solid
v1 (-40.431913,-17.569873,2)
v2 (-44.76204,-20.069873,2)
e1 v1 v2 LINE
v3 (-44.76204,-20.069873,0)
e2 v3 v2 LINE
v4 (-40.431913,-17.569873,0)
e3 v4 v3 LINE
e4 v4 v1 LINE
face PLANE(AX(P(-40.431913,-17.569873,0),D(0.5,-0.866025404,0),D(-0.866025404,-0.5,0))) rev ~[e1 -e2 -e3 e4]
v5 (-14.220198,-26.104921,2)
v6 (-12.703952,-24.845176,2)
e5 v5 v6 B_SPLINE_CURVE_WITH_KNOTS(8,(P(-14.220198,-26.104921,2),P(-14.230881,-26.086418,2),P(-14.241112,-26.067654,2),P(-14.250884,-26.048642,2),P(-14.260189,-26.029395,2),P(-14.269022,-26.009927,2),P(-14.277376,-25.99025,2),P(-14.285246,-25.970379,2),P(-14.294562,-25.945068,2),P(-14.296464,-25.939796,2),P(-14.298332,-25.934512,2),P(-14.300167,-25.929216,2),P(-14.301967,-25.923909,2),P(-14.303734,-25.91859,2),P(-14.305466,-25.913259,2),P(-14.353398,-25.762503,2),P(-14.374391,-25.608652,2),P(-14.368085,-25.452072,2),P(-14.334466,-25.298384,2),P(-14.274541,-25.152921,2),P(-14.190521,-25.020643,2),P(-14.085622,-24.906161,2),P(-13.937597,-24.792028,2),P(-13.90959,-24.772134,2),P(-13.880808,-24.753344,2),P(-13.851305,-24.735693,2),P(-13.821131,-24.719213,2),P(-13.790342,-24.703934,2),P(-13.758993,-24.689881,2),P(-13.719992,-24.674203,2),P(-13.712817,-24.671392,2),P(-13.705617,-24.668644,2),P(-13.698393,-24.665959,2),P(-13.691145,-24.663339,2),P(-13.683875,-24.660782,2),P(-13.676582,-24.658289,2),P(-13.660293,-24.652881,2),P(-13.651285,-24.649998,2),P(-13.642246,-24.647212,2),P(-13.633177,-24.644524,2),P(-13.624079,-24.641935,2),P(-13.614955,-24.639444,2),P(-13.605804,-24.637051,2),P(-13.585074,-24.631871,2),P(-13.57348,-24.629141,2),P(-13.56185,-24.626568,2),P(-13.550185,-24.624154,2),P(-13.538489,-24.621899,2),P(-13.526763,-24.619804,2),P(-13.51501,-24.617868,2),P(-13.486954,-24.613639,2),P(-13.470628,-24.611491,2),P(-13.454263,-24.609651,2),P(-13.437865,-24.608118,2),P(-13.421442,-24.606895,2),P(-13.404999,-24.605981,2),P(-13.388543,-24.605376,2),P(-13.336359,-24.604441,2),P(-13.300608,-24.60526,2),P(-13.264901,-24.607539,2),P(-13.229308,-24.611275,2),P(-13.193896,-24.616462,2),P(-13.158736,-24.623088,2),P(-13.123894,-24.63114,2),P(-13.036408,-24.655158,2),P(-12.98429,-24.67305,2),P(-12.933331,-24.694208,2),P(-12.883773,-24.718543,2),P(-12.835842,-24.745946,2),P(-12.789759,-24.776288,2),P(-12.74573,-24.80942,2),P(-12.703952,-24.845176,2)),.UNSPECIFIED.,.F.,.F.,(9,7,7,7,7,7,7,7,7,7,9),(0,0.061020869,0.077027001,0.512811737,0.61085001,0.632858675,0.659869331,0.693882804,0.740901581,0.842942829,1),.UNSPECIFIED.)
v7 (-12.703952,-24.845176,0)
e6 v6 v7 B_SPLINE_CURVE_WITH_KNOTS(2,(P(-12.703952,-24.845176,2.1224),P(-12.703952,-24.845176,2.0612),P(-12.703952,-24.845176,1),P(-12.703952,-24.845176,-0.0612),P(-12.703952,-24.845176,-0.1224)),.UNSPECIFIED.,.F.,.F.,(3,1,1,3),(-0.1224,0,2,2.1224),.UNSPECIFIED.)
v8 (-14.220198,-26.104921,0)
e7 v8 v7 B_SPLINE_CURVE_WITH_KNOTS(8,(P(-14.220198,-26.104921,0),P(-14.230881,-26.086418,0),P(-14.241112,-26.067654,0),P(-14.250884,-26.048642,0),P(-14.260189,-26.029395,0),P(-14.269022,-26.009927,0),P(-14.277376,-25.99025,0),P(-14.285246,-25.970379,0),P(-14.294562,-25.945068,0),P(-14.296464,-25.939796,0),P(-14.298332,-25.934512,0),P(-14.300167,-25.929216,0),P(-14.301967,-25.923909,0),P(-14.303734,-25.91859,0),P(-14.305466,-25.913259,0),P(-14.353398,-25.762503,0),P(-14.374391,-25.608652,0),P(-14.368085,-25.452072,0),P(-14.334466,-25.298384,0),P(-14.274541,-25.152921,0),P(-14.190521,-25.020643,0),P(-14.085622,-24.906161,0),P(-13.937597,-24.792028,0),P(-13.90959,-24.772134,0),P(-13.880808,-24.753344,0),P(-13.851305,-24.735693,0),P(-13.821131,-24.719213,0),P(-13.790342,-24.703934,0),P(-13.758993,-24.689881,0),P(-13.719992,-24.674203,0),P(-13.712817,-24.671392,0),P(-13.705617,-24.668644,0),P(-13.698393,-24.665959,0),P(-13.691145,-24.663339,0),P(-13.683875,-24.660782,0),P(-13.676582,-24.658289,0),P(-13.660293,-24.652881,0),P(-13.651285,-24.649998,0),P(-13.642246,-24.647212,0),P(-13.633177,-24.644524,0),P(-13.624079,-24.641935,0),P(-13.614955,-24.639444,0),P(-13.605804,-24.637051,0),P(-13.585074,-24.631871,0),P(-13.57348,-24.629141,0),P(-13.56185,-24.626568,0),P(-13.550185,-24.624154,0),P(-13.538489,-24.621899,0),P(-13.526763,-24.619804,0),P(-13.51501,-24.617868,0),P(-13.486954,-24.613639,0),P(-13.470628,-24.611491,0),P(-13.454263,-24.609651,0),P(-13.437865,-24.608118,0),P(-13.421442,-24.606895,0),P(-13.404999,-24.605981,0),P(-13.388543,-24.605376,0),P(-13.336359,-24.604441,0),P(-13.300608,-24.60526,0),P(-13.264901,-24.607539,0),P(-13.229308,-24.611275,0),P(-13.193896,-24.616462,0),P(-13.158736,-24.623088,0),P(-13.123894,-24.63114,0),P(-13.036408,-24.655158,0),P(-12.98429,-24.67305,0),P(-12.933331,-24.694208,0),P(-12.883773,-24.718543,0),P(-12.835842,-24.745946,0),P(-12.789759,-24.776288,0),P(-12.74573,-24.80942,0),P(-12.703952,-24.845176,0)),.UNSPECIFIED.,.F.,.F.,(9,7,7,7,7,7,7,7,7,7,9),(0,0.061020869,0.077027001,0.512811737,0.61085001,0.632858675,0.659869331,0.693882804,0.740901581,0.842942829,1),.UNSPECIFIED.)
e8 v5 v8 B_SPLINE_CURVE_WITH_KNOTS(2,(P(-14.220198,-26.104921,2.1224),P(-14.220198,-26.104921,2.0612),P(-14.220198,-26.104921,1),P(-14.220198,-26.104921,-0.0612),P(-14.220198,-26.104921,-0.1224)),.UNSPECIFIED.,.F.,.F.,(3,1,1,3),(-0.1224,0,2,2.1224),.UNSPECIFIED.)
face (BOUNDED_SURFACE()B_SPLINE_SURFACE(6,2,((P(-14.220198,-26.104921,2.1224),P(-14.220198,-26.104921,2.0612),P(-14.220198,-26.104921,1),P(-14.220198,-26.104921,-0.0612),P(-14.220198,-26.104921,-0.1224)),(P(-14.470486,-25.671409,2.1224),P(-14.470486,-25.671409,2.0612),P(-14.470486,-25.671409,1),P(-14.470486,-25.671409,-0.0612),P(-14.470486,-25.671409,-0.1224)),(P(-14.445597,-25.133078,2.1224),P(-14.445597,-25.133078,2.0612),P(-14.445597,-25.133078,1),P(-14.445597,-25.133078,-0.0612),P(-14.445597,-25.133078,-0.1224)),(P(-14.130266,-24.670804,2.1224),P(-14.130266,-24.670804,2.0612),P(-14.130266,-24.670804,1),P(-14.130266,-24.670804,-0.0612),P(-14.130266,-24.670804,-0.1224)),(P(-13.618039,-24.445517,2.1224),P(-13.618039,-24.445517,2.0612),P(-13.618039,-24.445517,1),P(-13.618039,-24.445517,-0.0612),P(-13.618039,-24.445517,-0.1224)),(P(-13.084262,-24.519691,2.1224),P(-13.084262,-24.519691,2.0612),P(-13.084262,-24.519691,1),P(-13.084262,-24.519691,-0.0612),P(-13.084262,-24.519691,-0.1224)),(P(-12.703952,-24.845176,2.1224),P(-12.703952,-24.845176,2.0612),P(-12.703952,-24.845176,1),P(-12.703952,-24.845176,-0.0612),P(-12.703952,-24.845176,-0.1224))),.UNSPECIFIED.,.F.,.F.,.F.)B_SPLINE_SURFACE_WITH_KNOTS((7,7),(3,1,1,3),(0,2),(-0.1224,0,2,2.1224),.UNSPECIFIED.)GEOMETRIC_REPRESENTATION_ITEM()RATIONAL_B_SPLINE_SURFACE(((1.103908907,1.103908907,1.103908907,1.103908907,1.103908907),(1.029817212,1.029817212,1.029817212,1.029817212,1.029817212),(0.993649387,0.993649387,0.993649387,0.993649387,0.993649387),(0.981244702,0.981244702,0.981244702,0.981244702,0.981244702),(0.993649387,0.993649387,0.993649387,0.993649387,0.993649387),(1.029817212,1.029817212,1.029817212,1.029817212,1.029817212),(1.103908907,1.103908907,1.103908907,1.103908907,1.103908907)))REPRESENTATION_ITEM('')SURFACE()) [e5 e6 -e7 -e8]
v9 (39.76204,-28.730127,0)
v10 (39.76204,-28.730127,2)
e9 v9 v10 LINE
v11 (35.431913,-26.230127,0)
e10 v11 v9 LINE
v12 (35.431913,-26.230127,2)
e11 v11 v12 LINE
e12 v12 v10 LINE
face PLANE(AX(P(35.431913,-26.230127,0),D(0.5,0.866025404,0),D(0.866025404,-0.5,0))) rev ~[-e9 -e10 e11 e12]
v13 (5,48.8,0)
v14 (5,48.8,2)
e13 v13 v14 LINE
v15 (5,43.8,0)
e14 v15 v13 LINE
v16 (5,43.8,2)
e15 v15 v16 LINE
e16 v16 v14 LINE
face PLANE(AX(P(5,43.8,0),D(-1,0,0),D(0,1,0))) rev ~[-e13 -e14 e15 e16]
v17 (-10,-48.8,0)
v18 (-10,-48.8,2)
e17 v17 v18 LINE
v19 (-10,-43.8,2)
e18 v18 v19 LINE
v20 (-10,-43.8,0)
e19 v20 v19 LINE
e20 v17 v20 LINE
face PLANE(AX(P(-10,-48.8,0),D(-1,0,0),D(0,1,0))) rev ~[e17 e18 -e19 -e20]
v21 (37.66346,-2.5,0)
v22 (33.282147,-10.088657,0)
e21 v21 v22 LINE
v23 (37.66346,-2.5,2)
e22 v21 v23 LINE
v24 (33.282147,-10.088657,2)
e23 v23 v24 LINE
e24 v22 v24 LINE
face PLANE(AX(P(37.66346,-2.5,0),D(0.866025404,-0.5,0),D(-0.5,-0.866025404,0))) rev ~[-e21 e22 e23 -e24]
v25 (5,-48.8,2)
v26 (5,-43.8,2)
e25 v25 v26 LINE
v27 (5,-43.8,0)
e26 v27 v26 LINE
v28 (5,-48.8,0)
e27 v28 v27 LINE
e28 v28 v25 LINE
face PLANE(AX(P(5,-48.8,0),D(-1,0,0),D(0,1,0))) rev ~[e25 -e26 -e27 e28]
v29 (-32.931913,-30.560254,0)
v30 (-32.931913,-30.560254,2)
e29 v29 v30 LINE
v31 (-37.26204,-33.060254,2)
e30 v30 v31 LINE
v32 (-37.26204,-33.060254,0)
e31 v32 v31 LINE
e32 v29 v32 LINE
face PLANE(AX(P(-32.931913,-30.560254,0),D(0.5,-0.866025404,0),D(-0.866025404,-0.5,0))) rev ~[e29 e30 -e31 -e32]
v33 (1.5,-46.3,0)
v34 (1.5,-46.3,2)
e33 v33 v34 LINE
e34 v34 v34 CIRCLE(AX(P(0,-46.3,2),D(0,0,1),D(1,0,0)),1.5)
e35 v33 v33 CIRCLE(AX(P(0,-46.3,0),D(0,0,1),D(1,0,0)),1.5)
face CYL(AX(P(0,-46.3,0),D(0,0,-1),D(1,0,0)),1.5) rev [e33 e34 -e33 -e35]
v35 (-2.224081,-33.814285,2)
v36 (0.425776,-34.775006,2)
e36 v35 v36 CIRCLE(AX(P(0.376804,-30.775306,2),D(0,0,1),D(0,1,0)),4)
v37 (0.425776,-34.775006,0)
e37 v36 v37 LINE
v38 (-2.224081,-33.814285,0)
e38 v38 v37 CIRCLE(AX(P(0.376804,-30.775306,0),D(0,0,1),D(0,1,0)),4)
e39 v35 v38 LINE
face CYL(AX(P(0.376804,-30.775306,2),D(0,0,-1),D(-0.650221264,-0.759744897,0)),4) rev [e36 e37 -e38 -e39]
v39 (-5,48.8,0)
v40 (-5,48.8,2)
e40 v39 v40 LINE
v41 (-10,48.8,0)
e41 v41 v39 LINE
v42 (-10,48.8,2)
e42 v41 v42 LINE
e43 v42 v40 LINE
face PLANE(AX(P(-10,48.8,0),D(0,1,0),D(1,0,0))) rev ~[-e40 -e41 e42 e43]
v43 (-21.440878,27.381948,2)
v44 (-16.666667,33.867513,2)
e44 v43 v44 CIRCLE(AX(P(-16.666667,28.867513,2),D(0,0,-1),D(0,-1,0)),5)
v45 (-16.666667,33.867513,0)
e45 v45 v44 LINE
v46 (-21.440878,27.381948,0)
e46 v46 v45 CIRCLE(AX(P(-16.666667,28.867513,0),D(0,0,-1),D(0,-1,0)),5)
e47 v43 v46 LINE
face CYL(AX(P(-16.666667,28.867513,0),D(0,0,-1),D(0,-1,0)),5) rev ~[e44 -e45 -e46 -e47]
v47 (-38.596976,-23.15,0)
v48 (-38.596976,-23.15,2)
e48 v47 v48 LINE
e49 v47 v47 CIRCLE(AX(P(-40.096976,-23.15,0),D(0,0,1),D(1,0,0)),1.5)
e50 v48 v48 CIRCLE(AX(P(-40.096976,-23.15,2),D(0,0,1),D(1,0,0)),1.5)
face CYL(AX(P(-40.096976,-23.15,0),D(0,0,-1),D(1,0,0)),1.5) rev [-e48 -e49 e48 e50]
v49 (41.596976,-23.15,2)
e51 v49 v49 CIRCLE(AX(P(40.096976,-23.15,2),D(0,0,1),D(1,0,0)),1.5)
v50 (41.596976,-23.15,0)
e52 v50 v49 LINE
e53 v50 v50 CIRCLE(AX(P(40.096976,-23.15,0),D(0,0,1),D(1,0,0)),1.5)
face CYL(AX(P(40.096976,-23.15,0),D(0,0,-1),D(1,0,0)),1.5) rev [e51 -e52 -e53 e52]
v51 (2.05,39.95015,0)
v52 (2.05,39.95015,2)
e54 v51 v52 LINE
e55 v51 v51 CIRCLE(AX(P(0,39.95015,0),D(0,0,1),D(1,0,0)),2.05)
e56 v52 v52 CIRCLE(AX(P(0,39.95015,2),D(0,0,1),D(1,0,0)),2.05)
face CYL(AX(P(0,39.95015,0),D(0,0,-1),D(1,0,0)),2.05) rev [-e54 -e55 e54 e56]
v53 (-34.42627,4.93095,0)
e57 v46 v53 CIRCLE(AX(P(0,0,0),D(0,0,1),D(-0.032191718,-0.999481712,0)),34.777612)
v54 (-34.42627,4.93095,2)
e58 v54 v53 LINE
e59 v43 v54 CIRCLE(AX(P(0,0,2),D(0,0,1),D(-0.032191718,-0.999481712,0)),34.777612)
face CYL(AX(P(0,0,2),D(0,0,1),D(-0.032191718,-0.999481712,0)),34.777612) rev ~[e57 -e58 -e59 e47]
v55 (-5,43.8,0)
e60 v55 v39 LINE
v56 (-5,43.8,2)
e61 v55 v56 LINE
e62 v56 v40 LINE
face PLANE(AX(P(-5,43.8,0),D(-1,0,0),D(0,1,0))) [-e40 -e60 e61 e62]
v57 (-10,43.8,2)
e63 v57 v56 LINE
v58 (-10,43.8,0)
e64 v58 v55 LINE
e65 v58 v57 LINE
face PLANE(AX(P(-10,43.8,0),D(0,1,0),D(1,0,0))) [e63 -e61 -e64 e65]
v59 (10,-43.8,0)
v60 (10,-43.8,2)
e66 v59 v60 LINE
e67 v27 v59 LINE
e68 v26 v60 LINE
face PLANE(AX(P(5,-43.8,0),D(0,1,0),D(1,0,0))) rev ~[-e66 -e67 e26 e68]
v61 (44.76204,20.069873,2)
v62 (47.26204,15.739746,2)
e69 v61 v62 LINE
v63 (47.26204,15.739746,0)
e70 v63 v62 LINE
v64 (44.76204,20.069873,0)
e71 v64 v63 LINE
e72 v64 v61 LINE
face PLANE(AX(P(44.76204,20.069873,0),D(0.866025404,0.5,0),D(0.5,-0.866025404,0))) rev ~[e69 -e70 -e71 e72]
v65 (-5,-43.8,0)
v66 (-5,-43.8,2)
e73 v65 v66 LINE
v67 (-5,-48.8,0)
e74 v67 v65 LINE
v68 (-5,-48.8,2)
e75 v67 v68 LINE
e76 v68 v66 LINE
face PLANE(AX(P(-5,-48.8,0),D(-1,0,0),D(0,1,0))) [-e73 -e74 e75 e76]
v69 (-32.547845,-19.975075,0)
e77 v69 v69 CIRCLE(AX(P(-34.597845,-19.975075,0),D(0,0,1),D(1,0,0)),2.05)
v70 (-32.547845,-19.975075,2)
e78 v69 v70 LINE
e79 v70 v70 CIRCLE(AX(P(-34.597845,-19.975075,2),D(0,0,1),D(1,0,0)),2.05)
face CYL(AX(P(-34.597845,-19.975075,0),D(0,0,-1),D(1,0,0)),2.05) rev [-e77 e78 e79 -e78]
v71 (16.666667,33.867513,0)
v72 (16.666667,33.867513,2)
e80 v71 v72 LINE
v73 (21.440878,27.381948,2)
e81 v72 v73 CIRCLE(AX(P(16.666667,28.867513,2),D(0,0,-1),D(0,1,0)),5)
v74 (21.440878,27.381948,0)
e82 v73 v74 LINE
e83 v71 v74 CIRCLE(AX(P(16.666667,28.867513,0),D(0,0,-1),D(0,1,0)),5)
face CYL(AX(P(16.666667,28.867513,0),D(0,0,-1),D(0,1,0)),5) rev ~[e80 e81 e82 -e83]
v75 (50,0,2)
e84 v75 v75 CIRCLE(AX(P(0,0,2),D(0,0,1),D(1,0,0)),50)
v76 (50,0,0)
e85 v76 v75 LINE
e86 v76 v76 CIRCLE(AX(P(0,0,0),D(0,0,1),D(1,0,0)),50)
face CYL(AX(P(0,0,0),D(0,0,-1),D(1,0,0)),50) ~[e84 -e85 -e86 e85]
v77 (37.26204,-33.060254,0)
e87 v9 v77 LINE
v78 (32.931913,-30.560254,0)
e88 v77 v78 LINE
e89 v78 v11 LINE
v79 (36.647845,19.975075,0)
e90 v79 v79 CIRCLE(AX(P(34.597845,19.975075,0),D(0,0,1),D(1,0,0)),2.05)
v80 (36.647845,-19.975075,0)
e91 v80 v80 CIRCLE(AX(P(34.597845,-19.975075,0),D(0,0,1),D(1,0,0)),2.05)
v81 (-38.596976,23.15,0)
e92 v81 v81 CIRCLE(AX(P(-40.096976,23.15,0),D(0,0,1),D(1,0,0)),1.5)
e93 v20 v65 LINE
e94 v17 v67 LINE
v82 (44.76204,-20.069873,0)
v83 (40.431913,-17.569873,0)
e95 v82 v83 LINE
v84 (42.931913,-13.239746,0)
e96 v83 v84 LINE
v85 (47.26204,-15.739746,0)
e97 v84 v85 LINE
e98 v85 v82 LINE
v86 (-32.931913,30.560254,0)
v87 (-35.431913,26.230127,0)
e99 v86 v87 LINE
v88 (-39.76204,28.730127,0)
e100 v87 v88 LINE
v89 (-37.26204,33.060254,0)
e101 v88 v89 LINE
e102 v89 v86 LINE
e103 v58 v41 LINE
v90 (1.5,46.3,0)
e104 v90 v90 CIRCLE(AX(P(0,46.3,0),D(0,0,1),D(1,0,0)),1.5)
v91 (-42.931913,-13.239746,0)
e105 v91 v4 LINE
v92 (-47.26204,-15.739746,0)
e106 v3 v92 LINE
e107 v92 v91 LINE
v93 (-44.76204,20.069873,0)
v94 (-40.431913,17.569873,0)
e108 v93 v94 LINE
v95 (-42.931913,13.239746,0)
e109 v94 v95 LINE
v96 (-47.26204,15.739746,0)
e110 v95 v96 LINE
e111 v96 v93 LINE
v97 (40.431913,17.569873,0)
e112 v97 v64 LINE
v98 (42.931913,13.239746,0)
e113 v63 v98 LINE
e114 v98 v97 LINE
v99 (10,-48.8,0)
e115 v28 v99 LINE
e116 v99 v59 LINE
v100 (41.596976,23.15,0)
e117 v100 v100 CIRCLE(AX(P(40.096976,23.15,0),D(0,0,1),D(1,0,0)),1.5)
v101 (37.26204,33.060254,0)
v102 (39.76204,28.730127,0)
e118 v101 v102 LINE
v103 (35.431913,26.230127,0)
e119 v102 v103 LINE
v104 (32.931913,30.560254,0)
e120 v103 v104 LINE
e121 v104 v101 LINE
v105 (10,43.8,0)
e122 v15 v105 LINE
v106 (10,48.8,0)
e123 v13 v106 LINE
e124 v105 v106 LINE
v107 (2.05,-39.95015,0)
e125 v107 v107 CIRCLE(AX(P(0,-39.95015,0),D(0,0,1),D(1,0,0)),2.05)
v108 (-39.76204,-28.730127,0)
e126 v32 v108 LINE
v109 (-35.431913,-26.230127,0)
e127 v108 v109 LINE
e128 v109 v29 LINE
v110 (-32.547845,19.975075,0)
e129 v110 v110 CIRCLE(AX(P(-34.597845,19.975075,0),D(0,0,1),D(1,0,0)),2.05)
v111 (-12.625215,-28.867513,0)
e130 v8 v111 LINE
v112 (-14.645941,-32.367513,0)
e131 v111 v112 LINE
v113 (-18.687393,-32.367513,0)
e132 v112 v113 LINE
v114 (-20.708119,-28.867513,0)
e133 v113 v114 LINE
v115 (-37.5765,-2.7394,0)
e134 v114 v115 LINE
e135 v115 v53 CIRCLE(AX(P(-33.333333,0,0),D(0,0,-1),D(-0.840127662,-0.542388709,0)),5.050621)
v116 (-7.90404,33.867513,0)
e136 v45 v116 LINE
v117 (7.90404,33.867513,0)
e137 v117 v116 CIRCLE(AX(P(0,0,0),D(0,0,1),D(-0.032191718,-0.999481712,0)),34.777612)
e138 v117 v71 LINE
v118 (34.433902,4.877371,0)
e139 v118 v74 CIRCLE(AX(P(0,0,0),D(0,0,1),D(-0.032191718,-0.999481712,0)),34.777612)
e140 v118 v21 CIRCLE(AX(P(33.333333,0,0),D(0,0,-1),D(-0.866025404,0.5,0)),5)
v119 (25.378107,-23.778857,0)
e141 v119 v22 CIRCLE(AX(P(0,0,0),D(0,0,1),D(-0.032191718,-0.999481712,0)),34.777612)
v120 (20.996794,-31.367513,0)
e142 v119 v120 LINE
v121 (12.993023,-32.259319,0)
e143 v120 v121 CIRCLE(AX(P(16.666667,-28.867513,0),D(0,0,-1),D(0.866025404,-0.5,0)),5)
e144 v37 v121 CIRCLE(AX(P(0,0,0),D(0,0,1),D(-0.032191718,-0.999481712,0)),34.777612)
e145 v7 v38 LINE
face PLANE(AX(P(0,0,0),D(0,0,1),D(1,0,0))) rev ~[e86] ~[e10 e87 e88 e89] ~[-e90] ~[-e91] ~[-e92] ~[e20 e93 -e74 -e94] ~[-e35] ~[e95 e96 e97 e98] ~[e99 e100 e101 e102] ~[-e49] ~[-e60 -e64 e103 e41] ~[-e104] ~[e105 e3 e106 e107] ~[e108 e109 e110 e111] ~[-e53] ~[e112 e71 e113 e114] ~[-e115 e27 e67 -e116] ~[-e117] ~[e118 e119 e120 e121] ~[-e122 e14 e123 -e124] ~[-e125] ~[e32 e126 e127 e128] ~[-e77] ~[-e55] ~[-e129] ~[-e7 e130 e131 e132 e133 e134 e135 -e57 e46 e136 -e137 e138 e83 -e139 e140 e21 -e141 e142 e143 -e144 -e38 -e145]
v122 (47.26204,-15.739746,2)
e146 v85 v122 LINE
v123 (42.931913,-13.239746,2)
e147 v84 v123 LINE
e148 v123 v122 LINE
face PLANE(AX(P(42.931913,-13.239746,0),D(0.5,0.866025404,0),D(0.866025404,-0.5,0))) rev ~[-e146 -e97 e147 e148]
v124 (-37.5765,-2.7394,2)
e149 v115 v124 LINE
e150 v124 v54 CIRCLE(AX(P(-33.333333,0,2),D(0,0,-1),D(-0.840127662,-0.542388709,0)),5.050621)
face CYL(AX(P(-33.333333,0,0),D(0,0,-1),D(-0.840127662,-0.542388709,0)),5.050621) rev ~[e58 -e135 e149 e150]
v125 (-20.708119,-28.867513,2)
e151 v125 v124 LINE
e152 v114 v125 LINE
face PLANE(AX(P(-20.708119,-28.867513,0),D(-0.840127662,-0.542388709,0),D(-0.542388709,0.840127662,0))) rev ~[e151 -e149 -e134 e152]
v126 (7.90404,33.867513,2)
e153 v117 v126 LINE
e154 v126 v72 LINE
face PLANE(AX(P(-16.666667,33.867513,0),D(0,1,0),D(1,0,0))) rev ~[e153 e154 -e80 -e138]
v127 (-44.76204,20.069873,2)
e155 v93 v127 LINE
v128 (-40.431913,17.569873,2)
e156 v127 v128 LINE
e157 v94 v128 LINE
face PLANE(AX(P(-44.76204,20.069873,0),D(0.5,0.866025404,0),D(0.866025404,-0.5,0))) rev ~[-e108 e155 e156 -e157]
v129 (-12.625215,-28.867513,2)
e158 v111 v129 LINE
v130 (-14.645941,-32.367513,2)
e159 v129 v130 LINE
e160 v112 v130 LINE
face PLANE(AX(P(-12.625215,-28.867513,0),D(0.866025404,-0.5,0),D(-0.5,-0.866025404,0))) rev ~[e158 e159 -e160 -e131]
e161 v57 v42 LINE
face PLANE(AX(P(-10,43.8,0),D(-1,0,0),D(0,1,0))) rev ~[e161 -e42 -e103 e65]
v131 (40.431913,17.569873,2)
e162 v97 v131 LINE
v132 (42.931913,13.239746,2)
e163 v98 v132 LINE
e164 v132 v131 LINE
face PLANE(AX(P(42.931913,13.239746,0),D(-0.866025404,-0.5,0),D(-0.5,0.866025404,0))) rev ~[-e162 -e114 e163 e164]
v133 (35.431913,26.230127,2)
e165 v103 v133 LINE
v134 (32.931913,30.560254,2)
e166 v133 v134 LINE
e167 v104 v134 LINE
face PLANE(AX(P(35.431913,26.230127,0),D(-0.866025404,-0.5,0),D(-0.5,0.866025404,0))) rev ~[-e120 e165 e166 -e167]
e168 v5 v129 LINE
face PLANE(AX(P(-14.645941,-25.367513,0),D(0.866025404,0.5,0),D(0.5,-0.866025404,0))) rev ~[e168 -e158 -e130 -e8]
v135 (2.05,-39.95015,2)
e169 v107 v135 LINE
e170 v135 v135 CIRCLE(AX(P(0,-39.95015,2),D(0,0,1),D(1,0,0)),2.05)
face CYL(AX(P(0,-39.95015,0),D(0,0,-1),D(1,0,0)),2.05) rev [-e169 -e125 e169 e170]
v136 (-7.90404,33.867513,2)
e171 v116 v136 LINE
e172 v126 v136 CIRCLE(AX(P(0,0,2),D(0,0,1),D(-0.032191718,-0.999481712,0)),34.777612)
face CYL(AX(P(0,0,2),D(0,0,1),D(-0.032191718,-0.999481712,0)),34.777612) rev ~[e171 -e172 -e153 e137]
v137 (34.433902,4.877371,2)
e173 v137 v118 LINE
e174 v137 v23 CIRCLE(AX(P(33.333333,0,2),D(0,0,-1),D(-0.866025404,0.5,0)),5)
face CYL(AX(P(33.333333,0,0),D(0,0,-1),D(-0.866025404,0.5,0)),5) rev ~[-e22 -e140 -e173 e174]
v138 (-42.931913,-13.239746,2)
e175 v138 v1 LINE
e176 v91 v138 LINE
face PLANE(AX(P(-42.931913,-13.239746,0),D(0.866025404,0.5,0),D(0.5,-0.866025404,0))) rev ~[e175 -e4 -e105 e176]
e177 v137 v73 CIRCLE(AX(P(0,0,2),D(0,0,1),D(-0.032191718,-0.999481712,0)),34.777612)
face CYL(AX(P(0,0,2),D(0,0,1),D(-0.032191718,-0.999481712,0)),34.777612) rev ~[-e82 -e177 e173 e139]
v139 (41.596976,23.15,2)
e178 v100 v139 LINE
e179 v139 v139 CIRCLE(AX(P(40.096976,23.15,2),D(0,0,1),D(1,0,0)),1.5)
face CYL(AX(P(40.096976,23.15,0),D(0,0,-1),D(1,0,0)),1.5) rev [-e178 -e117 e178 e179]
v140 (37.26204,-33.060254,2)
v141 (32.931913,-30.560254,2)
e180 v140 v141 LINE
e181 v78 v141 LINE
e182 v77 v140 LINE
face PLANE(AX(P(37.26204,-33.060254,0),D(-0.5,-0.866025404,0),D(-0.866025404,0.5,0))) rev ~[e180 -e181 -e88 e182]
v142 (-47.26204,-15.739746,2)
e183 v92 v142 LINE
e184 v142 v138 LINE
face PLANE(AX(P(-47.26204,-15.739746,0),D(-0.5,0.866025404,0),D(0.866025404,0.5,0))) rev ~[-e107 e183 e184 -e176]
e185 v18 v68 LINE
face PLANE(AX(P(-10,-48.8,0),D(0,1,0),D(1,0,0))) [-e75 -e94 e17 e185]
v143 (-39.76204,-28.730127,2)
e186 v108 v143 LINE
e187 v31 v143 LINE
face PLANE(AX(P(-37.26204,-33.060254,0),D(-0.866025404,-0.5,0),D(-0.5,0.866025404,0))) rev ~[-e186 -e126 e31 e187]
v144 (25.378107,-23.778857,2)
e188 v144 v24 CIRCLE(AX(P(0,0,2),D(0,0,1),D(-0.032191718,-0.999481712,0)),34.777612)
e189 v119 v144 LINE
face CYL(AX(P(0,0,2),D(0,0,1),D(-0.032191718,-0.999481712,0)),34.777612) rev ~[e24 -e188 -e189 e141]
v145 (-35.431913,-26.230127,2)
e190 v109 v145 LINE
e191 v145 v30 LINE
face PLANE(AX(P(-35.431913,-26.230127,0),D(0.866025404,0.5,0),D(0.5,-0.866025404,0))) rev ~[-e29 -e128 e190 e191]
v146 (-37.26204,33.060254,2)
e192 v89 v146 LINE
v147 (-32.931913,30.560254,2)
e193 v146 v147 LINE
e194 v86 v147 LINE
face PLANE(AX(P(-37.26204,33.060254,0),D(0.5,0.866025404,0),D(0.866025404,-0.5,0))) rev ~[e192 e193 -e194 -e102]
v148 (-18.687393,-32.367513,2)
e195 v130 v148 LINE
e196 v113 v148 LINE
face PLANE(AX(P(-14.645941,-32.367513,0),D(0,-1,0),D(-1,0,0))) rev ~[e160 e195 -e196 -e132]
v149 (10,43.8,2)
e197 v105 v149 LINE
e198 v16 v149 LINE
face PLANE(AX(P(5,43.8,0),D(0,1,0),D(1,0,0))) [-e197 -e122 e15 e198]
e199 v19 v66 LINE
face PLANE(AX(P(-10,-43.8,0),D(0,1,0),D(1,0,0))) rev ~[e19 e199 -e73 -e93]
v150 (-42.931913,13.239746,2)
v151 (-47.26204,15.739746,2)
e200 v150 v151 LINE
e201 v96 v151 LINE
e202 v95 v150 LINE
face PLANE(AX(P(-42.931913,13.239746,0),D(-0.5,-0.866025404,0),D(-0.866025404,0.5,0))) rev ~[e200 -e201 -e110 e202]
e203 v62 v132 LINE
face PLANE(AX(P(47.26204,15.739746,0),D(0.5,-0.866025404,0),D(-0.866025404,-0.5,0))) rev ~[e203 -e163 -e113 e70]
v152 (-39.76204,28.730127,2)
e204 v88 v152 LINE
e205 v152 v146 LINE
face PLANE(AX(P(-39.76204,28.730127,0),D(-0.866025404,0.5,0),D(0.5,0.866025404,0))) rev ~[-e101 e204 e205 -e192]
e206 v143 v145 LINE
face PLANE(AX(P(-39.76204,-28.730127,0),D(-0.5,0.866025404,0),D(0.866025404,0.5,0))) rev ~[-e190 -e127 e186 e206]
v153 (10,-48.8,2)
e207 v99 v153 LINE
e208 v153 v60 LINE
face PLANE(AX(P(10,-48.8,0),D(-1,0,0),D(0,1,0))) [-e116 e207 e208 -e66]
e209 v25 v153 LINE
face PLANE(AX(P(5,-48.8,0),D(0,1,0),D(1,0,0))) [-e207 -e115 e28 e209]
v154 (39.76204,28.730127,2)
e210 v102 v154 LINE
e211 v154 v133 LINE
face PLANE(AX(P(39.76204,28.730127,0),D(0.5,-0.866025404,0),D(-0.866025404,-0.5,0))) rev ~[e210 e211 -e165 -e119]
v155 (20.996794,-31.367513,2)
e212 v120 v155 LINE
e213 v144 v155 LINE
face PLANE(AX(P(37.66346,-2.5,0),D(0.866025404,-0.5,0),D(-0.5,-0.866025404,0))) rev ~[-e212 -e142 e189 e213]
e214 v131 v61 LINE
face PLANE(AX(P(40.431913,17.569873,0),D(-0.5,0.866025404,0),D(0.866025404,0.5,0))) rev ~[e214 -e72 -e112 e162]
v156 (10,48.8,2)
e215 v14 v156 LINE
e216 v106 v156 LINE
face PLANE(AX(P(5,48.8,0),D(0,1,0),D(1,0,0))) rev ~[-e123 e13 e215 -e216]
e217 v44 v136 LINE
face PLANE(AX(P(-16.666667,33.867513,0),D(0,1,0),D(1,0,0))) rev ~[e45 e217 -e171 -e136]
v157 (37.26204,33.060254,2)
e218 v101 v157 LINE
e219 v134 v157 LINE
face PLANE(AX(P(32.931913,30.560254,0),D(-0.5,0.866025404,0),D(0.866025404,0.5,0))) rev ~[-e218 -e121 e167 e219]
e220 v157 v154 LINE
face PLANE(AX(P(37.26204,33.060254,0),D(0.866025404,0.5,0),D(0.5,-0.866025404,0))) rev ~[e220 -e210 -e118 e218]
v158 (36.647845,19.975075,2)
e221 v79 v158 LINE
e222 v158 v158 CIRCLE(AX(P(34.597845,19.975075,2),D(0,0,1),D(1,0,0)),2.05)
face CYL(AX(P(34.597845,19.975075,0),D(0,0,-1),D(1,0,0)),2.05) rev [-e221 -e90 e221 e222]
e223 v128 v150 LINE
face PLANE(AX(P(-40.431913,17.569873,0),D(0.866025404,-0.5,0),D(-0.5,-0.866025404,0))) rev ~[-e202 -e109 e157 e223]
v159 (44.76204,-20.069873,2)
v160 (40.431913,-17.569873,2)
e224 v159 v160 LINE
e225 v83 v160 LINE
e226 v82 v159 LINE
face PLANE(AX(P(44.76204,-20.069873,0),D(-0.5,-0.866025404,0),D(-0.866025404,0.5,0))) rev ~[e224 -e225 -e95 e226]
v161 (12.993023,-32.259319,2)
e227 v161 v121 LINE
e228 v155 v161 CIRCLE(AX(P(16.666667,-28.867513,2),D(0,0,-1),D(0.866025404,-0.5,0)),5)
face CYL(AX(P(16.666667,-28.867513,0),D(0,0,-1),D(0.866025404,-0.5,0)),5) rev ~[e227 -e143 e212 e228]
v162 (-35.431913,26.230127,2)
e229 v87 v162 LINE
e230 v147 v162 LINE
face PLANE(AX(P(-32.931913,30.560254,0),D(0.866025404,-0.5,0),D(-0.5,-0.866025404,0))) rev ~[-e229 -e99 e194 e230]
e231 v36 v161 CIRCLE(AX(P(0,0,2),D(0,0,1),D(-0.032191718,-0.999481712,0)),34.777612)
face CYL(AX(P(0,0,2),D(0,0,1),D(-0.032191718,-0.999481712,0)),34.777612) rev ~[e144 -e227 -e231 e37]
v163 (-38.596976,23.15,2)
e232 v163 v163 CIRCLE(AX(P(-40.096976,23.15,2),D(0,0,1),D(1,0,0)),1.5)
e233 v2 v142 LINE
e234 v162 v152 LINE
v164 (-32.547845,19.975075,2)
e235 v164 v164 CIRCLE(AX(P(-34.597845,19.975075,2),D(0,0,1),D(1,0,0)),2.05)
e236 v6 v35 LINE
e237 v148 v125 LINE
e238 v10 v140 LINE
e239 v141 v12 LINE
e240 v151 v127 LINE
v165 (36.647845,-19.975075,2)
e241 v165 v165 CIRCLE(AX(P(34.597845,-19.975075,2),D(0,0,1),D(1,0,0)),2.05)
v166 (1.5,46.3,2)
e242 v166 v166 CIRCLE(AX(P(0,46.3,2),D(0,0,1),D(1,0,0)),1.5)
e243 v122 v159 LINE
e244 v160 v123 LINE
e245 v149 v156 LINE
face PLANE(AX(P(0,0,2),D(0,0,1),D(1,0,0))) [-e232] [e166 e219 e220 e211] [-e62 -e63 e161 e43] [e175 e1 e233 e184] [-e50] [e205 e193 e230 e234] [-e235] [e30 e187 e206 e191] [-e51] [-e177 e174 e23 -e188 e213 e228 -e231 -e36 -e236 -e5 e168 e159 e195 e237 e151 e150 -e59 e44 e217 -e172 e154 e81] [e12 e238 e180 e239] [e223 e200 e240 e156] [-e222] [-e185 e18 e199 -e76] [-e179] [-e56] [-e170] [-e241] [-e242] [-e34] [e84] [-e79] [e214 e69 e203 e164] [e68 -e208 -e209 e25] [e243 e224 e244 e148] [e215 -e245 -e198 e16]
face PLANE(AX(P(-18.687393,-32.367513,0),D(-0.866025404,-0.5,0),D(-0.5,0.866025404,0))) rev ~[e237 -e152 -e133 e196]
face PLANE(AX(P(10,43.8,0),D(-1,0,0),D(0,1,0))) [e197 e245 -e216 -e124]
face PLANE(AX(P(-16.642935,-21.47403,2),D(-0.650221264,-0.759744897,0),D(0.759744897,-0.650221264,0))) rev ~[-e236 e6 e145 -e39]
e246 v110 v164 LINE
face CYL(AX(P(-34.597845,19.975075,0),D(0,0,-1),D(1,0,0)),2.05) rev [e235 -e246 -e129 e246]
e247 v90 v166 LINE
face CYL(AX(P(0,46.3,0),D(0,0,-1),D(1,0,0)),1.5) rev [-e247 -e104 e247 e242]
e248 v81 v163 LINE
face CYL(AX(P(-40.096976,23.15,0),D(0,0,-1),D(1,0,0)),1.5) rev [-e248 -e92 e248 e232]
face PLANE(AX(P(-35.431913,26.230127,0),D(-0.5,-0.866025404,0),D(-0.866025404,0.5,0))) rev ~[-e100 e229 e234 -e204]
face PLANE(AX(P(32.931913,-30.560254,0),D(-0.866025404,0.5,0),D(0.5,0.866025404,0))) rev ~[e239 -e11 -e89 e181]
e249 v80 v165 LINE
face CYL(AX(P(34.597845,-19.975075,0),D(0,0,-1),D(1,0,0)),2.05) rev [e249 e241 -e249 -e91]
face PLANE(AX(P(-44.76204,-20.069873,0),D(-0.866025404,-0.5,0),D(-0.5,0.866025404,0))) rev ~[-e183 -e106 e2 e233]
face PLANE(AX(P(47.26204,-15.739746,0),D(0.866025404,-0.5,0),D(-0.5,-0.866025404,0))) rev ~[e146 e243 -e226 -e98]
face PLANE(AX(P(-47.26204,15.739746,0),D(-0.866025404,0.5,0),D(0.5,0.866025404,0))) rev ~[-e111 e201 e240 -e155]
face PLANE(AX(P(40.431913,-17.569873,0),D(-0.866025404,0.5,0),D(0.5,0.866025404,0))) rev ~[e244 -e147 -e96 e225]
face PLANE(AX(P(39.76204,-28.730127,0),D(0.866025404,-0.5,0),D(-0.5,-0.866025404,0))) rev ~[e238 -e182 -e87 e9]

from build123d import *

# Parameters (mm, degrees)
ESQUISSE1_R        = 50
ESQUISSE1_W        = 5
ESQUISSE1_H        = 5
ESQUISSE1_R_2      = 1.5
ESQUISSE1_R_3      = 2.05
BOSS_EXTRU_1_DEPTH = 2
SKETCH3_W          = 1
SKETCH3_H          = 8
CUT_EXTRUDE2_DEPTH = 10
CUT_EXTRUDE5_DEPTH = 10
FILLET1_R          = 1
FILLET2_R          = 4


with BuildPart() as part:
    # Esquisse1 → Boss.-Extru.1 (new body)
    with BuildSketch(Plane.XY):
        Circle(ESQUISSE1_R)
        Polygon((-39.762039705, -28.730127019), (-35.431912686, -26.230127019), (-32.931912686, -30.560254038), (-37.262039705, -33.060254038), align=None, mode=Mode.SUBTRACT)
        with Locations((-7.5, -46.3)):
            Rectangle(ESQUISSE1_W, ESQUISSE1_H, mode=Mode.SUBTRACT)
        with Locations((-40.096976195, -23.15)):
            Circle(ESQUISSE1_R_2, mode=Mode.SUBTRACT)
        Polygon((-42.931912686, -13.239745962), (-40.431912686, -17.569872981), (-44.762039705, -20.069872981), (-47.262039705, -15.739745962), align=None, mode=Mode.SUBTRACT)
        with Locations((-34.597845014, -19.975075133)):
            Circle(ESQUISSE1_R_3, mode=Mode.SUBTRACT)
        with BuildLine():
            ThreePointArc((-37.576499896, -2.739399901), (-35.858643923, 4.373966246), (-28.839360147, 2.304990085))
            Line((-28.839360147, 2.304990085), (-14.645940725, -25.367513459))
            Line((-14.645940725, -25.367513459), (-12.625214782, -28.867513459))
            Line((-12.625214782, -28.867513459), (-14.645940725, -32.367513459))
            Line((-14.645940725, -32.367513459), (-18.687392609, -32.367513459))
            Line((-18.687392609, -32.367513459), (-20.708118551, -28.867513459))
            Line((-20.708118551, -28.867513459), (-37.576499896, -2.739399901))
        make_face(mode=Mode.SUBTRACT)
        with Locations((-16.671397033, -9.625235564)):
            Circle(ESQUISSE1_R_3, mode=Mode.SUBTRACT)
        with Locations((0, -46.3)):
            Circle(ESQUISSE1_R_2, mode=Mode.SUBTRACT)
        with Locations((7.5, -46.3)):
            Rectangle(ESQUISSE1_W, ESQUISSE1_H, mode=Mode.SUBTRACT)
        with Locations((0, -39.950150265)):
            Circle(ESQUISSE1_R_3, mode=Mode.SUBTRACT)
        Polygon((32.931912686, -30.560254038), (35.431912686, -26.230127019), (39.762039705, -28.730127019), (37.262039705, -33.060254038), align=None, mode=Mode.SUBTRACT)
        with Locations((0, -19.232757636)):
            Circle(ESQUISSE1_R_3, mode=Mode.SUBTRACT)
        with Locations((16.666666667, -9.622504487)):
            Circle(ESQUISSE1_R_3, mode=Mode.SUBTRACT)
        with Locations((34.597845014, -19.975075132)):
            Circle(ESQUISSE1_R_3, mode=Mode.SUBTRACT)
        with BuildLine():
            ThreePointArc((20.996793686, -31.367513459), (14.166666667, -33.197640478), (12.336539648, -26.367513459))
            Line((12.336539648, -26.367513459), (29.003206314, 2.5))
            ThreePointArc((29.003206314, 2.5), (35.833333333, 4.330127019), (37.663460352, -2.5))
            Line((37.663460352, -2.5), (20.996793686, -31.367513459))
        make_face(mode=Mode.SUBTRACT)
        with Locations((40.096976195, -23.15)):
            Circle(ESQUISSE1_R_2, mode=Mode.SUBTRACT)
        Polygon((44.762039705, -20.069872981), (40.431912686, -17.569872981), (42.931912686, -13.239745962), (47.262039705, -15.739745962), align=None, mode=Mode.SUBTRACT)
        Polygon((-44.762039705, 20.069872981), (-40.431912686, 17.569872981), (-42.931912686, 13.239745962), (-47.262039705, 15.739745962), align=None, mode=Mode.SUBTRACT)
        with Locations((-40.096976195, 23.15)):
            Circle(ESQUISSE1_R_2, mode=Mode.SUBTRACT)
        with Locations((-34.597845014, 19.975075133)):
            Circle(ESQUISSE1_R_3, mode=Mode.SUBTRACT)
        with Locations((-16.671397032, 9.625235564)):
            Circle(ESQUISSE1_R_3, mode=Mode.SUBTRACT)
        Polygon((-32.931912686, 30.560254038), (-35.431912686, 26.230127019), (-39.762039705, 28.730127019), (-37.262039705, 33.060254038), align=None, mode=Mode.SUBTRACT)
        with Locations((0, 39.950150265)):
            Circle(ESQUISSE1_R_3, mode=Mode.SUBTRACT)
        with Locations((-7.5, 46.3)):
            Rectangle(ESQUISSE1_W, ESQUISSE1_H, mode=Mode.SUBTRACT)
        Circle(ESQUISSE1_R_3, mode=Mode.SUBTRACT)
        with Locations((16.669571796, 9.624181764)):
            Circle(ESQUISSE1_R_3, mode=Mode.SUBTRACT)
        with Locations((0, 19.165334425)):
            Circle(ESQUISSE1_R_3, mode=Mode.SUBTRACT)
        with Locations((34.597845014, 19.975075133)):
            Circle(ESQUISSE1_R_3, mode=Mode.SUBTRACT)
        Polygon((42.931912686, 13.239745962), (40.431912686, 17.569872981), (44.762039705, 20.069872981), (47.262039705, 15.739745962), align=None, mode=Mode.SUBTRACT)
        with Locations((40.096976195, 23.15)):
            Circle(ESQUISSE1_R_2, mode=Mode.SUBTRACT)
        with BuildLine():
            ThreePointArc((-16.666666667, 23.867513459), (-21.666666667, 28.867513459), (-16.666666667, 33.867513459))
            Line((-16.666666667, 33.867513459), (16.666666667, 33.867513459))
            ThreePointArc((16.666666667, 33.867513459), (21.666666667, 28.867513459), (16.666666667, 23.867513459))
            Line((16.666666667, 23.867513459), (-16.666666667, 23.867513459))
        make_face(mode=Mode.SUBTRACT)
        with Locations((0, 46.3)):
            Circle(ESQUISSE1_R_2, mode=Mode.SUBTRACT)
        with Locations((7.5, 46.3)):
            Rectangle(ESQUISSE1_W, ESQUISSE1_H, mode=Mode.SUBTRACT)
        Polygon((39.762039705, 28.730127019), (35.431912686, 26.230127019), (32.931912686, 30.560254038), (37.262039705, 33.060254038), align=None, mode=Mode.SUBTRACT)
    extrude(amount=BOSS_EXTRU_1_DEPTH)

    # Sketch3 → Cut-Extrude2 (cut)
    with BuildSketch(Plane.XY.offset(2)):
        with Locations((-10.5, 0)):
            Rectangle(SKETCH3_W, SKETCH3_H)
        with Locations((-22.833333333, 0)):
            Rectangle(SKETCH3_W, SKETCH3_H)
        Polygon((-13.233653965, 23.921361037), (-14.099679369, 23.421361037), (-12.349679369, 20.390272124), (-15.380768282, 18.640272124), (-14.880768282, 17.77424672), (-11.849679369, 19.52424672), (-10.099679369, 16.493157806), (-9.233653965, 16.993157806), (-10.983653965, 20.02424672), (-7.952565052, 21.77424672), (-8.452565052, 22.640272124), (-11.483653965, 20.890272124), align=None)
        Polygon((15.130768282, 18.207259422), (14.630768282, 17.341234018), (7.702565052, 21.341234018), (8.202565052, 22.207259422), align=None)
        Polygon((8.202565052, -22.207259422), (7.702565052, -21.341234018), (14.630768282, -17.341234018), (15.130768282, -18.207259422), align=None)
        Polygon((27.333333333, -0.5), (27.333333333, 0.5), (23.833333333, 0.5), (23.833333333, 4), (22.833333333, 4), (22.833333333, 0.5), (19.333333333, 0.5), (19.333333333, -0.5), (22.833333333, -0.5), (22.833333333, -4), (23.833333333, -4), (23.833333333, -0.5), align=None)
        Polygon((-14.099679369, -23.421361037), (-13.233653965, -23.921361037), (-11.483653965, -20.890272124), (-8.452565052, -22.640272124), (-7.952565052, -21.77424672), (-10.983653965, -20.02424672), (-9.233653965, -16.993157806), (-10.099679369, -16.493157806), (-11.849679369, -19.52424672), (-14.880768282, -17.77424672), (-15.380768282, -18.640272124), (-12.349679369, -20.390272124), align=None)
        Polygon((-20.834234776, 12.184801987), (-19.940304487, 11.668776346), (-20.102964744, 11.386925384), (-20.996895032, 11.902951025), (-21.517828526, 11.000607275), (-21.800380609, 11.163968654), (-21.279447115, 12.066312404), (-22.173377404, 12.582338045), (-22.010717147, 12.864189006), (-21.116786859, 12.348163365), (-20.596554487, 13.24840375), (-20.314002404, 13.085042371), align=None)
    extrude(amount=-CUT_EXTRUDE2_DEPTH, mode=Mode.SUBTRACT)

    # Sketch5 → Cut-Extrude5 (cut)
    with BuildSketch(Plane.XY.offset(2)):
        with BuildLine():
            Line((-16.642935498, -21.474029915), (-1.119551078, -34.759587589))
            ThreePointArc((-1.119551078, -34.759587589), (26.640402268, 22.355565101), (-34.426269912, 4.930949597))
            Line((-34.426269912, 4.930949597), (-16.642935498, -21.474029915))
        make_face()
    extrude(amount=-CUT_EXTRUDE5_DEPTH, mode=Mode.SUBTRACT)

    # Fillet1
    fillet1_edges = [part.edges().sort_by_distance(p)[0] for p in [
        (-16.642935498, -21.474029915, 1),
    ]]
    fillet(fillet1_edges, radius=FILLET1_R)

    # Fillet2
    fillet2_edges = [part.edges().sort_by_distance(p)[0] for p in [
        (-1.119551078, -34.759587589, 1),
    ]]
    fillet(fillet2_edges, radius=FILLET2_R)


solid = part.part
